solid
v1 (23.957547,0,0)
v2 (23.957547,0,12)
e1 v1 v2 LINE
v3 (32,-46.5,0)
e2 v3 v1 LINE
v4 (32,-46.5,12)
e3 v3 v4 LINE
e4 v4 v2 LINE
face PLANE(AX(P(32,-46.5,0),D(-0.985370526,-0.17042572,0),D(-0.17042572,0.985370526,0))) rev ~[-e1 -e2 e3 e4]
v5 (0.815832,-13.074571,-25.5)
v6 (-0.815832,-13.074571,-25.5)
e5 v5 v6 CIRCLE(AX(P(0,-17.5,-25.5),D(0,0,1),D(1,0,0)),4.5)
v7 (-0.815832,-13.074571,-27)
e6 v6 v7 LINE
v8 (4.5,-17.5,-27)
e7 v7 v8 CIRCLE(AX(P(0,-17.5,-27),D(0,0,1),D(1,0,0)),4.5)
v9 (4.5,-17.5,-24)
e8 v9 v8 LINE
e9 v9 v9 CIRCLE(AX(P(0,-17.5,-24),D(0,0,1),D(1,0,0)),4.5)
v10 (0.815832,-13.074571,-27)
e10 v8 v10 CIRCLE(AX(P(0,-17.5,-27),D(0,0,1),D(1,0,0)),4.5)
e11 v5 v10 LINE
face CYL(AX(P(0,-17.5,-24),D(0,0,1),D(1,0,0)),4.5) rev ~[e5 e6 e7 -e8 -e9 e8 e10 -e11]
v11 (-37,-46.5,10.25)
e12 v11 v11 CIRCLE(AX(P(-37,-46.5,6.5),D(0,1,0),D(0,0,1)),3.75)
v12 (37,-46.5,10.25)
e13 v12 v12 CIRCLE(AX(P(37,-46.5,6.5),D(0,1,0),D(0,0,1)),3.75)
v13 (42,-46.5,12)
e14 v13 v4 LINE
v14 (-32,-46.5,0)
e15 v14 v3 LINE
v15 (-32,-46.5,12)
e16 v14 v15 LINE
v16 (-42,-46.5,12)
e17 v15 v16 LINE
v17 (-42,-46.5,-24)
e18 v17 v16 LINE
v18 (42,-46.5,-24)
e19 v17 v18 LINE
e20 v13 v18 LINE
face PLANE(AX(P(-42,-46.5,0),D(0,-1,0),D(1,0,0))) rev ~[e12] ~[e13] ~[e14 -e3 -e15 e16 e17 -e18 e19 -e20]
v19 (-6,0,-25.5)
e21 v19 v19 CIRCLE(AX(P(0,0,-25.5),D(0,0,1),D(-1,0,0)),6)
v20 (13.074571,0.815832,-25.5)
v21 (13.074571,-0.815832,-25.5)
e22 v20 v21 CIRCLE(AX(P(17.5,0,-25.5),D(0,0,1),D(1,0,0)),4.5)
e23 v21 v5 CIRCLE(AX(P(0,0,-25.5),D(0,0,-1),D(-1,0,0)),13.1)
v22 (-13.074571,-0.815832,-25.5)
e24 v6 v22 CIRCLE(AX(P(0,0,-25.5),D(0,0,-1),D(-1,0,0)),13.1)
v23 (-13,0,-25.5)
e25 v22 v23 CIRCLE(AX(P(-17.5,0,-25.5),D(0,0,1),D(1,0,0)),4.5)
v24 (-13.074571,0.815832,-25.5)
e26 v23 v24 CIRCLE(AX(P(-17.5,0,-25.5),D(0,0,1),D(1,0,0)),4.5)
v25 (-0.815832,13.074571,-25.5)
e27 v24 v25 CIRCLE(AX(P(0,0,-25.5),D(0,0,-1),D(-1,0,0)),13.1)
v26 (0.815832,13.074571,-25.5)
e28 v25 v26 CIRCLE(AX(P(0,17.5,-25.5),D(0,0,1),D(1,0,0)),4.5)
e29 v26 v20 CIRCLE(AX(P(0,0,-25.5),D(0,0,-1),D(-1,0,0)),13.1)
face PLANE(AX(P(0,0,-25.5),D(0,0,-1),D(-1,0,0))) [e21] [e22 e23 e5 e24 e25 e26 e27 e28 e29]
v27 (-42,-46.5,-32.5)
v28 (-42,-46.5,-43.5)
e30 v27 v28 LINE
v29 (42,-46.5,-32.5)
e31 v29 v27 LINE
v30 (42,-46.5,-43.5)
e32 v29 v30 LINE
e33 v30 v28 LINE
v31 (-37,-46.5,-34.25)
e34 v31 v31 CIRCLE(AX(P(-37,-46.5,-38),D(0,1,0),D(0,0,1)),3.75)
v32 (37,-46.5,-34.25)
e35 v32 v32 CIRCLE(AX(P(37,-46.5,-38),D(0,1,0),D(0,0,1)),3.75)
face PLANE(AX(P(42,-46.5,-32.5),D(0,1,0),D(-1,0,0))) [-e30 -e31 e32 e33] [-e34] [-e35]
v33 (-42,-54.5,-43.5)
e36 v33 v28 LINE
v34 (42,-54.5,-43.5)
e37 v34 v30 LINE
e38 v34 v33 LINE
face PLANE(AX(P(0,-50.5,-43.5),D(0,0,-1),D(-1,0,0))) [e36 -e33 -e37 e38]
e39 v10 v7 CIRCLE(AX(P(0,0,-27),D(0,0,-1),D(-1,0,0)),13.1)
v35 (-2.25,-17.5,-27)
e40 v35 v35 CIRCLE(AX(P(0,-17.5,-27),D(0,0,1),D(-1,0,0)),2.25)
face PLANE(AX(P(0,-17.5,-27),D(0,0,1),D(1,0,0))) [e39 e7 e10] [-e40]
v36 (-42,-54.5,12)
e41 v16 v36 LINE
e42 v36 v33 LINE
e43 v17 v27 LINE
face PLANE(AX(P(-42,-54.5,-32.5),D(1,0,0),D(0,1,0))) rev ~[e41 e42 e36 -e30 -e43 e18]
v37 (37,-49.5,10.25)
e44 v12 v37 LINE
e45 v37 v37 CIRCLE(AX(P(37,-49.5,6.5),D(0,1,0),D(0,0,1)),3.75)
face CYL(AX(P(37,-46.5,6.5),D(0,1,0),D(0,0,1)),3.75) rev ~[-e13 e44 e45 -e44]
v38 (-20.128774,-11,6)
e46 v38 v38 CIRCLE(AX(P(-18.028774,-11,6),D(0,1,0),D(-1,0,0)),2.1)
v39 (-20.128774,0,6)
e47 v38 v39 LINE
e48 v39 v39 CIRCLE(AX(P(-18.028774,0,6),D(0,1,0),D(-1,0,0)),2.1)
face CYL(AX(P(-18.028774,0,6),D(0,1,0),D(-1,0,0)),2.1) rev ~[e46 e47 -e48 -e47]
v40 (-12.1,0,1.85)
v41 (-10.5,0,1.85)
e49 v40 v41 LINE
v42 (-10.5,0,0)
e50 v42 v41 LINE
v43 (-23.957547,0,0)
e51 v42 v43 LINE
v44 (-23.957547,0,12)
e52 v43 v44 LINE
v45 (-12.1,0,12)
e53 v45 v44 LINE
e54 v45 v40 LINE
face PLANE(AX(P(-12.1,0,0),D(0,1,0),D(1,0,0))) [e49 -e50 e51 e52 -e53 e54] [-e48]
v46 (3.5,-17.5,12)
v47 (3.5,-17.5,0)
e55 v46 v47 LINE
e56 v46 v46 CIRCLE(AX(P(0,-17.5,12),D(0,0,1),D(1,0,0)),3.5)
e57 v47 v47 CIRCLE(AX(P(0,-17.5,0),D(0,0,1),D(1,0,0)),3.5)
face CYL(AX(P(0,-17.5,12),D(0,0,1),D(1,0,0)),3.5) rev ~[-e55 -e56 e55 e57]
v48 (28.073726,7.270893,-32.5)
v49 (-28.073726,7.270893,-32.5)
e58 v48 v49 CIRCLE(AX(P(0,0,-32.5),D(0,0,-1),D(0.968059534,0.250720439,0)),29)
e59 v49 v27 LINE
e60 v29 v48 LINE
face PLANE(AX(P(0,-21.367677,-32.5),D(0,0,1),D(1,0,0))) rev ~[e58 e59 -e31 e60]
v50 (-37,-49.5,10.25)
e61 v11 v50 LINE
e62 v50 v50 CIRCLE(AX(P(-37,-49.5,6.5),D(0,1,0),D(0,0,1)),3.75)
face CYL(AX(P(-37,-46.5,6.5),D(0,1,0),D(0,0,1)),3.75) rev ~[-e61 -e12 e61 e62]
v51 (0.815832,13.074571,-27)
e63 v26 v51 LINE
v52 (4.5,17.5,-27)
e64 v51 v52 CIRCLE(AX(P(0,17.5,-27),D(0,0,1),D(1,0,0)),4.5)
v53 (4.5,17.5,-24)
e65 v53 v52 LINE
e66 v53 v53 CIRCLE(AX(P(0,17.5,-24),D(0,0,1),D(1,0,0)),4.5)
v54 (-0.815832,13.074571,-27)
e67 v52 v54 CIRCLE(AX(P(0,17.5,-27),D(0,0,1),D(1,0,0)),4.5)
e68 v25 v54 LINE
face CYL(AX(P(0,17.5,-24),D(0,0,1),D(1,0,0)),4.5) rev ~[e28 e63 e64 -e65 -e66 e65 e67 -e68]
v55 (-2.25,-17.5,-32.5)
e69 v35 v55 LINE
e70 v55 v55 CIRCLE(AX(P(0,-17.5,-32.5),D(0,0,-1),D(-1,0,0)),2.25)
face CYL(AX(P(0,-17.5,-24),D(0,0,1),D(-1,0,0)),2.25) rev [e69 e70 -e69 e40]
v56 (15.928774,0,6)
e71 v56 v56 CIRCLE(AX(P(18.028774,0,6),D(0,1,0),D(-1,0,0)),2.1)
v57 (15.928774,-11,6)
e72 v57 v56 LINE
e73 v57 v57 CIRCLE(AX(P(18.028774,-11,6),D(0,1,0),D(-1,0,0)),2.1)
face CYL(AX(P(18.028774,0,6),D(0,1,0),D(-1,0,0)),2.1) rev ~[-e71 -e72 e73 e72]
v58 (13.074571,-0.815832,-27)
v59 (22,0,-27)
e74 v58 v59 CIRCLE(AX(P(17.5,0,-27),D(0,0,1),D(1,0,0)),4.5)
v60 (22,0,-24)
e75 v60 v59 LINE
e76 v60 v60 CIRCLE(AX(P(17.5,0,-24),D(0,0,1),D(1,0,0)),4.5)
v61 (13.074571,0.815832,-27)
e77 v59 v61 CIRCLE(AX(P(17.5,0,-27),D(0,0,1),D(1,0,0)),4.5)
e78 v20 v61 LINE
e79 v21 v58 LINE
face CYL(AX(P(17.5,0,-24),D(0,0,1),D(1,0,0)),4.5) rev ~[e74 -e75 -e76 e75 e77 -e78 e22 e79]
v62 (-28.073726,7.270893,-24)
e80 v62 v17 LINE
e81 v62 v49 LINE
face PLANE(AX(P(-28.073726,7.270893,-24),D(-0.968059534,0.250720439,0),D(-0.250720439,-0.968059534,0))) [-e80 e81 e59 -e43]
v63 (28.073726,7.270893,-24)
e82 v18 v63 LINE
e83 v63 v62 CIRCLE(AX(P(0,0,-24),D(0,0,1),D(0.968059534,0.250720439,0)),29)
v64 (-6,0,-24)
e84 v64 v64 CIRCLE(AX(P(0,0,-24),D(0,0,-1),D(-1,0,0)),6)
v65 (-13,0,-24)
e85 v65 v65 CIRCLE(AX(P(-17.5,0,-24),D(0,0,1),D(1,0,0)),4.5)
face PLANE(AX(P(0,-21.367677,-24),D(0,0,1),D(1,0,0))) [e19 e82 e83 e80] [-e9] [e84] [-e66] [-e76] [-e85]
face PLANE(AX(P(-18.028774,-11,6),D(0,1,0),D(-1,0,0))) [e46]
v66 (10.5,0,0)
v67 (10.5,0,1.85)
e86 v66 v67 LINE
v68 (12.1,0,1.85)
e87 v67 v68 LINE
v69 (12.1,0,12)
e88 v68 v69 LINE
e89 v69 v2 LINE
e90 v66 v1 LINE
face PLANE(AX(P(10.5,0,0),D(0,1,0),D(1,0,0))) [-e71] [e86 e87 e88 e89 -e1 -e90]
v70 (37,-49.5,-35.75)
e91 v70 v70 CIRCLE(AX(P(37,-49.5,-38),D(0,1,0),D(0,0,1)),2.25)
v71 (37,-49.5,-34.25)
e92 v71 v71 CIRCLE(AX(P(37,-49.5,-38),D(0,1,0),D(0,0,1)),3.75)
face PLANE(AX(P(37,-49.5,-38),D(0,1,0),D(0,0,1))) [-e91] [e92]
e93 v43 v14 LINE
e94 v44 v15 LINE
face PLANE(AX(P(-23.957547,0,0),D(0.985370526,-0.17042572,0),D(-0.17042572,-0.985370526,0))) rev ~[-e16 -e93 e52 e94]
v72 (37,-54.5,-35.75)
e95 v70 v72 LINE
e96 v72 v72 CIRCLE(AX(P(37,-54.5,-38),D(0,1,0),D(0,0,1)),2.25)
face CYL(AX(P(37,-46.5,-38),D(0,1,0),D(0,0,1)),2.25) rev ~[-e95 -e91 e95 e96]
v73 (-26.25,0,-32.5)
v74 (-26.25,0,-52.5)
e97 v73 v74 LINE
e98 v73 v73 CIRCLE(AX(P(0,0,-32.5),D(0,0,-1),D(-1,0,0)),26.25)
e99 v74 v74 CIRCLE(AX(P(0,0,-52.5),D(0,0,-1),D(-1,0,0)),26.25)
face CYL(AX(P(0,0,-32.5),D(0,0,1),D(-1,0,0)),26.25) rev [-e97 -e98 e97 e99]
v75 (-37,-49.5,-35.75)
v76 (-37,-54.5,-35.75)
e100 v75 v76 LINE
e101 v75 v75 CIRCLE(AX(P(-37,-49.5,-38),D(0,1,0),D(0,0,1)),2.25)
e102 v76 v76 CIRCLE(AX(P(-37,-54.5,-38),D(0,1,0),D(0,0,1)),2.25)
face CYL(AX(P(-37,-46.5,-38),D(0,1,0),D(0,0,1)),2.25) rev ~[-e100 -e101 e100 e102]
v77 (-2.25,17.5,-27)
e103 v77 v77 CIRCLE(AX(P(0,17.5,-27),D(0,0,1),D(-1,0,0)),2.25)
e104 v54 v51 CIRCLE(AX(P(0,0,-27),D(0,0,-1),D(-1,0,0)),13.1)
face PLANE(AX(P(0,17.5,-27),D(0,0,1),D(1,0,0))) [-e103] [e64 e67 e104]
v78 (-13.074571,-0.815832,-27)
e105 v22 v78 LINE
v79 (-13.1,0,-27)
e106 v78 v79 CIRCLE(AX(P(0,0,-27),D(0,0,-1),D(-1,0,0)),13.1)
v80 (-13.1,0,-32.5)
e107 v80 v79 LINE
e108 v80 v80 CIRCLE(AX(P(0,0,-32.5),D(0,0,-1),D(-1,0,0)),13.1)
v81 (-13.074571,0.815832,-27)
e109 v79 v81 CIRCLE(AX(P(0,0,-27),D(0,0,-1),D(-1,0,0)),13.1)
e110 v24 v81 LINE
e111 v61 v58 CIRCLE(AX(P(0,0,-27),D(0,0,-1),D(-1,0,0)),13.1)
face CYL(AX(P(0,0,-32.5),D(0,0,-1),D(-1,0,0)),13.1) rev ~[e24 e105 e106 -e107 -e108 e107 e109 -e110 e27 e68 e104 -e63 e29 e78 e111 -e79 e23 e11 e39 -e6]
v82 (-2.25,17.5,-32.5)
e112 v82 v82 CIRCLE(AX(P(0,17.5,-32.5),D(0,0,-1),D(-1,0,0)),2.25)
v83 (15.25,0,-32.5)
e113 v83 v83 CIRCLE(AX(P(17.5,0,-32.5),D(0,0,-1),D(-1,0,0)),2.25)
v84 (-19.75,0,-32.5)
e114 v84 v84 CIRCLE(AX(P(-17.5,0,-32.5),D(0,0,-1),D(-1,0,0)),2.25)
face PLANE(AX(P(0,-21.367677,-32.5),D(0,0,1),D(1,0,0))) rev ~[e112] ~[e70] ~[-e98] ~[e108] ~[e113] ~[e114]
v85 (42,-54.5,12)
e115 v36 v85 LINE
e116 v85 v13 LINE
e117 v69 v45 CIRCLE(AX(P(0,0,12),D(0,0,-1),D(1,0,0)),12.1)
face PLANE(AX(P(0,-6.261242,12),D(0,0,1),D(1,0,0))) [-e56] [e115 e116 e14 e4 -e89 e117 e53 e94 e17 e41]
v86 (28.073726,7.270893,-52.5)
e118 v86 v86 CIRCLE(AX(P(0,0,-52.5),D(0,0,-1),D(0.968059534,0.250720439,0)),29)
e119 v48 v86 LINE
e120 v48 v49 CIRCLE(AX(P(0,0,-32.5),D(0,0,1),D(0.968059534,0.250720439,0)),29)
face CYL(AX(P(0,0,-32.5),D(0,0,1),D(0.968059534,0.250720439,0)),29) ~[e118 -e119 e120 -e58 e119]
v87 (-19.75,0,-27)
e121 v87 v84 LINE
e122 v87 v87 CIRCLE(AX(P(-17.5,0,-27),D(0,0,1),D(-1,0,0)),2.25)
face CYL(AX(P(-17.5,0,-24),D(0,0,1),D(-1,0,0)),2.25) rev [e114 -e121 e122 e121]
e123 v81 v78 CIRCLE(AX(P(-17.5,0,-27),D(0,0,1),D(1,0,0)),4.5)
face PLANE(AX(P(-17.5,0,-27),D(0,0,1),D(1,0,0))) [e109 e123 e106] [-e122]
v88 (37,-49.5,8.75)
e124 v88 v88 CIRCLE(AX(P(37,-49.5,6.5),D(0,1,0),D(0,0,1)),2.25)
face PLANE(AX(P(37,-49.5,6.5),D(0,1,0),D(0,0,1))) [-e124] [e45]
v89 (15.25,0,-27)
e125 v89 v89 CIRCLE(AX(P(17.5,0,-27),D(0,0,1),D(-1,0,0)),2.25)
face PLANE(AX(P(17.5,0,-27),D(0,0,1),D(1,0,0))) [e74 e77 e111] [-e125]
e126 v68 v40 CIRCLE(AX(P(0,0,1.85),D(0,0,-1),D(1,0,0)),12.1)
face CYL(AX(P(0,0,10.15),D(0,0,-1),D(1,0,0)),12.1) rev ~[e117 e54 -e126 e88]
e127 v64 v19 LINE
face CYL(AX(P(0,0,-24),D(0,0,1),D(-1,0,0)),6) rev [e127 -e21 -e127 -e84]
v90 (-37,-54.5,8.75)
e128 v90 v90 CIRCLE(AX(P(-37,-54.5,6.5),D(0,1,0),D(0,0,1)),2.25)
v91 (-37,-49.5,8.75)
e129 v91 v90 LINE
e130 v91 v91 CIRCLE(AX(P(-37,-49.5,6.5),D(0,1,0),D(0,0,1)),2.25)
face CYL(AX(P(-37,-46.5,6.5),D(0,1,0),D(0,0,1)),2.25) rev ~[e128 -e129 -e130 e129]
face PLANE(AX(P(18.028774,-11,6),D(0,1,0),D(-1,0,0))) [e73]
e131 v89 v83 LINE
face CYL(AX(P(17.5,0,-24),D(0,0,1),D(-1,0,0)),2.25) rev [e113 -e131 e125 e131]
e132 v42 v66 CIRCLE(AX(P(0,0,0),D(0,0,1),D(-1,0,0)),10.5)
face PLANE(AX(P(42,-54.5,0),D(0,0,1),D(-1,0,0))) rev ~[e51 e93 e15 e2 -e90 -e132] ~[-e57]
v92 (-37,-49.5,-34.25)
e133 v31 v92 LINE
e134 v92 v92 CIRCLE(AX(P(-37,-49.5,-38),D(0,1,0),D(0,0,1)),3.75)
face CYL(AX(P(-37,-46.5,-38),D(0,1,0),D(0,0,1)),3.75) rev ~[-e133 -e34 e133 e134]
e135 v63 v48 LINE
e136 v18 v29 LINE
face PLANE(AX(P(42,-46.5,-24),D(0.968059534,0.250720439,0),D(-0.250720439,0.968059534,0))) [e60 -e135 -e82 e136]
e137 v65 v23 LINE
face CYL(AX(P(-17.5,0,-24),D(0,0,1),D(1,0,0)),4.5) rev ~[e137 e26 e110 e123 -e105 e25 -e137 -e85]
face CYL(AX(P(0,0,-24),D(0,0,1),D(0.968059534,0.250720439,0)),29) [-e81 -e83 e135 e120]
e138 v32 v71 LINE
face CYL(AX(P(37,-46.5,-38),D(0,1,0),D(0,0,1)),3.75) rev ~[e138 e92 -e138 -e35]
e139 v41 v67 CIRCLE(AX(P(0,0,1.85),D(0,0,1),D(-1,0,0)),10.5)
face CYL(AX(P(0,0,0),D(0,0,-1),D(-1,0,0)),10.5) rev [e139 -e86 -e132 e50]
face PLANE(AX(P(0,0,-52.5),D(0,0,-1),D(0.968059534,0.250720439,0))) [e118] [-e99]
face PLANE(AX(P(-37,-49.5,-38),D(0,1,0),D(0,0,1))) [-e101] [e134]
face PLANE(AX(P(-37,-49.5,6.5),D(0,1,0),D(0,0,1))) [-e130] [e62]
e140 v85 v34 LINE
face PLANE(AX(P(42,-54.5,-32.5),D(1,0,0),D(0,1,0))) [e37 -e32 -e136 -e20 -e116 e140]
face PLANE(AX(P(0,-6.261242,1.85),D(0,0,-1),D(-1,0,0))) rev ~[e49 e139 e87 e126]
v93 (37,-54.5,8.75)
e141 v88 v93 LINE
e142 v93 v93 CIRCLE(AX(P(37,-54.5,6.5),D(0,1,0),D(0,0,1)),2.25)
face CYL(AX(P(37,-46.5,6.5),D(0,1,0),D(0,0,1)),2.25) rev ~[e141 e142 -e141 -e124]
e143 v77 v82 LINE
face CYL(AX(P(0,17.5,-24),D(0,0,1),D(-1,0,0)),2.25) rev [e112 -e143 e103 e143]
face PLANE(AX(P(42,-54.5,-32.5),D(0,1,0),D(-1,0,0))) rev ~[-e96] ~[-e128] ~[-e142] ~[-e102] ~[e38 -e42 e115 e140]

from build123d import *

# Parameters (mm, degrees)
ESTRUSIONE_ESTRUSIONE1_DEPTH  = 12
ESTRUSIONE_ESTRUSIONE2_START  = -1.85
ESTRUSIONE_ESTRUSIONE2_DEPTH  = 1.85
ESTRUSIONE_ESTRUSIONE3_DEPTH  = 1.85
ESTRUSIONE_ESTRUSIONE4_DEPTH  = 23.5
ESTRUSIONE_ESTRUSIONE5_START  = 1.85
ESTRUSIONE_ESTRUSIONE5_DEPTH  = 1.85
ESTRUSIONE_ESTRUSIONE6_START  = 8.3
ESTRUSIONE_ESTRUSIONE6_DEPTH  = 8.3
ESTRUSIONE_ESTRUSIONE7_START  = 1.85
ESTRUSIONE_ESTRUSIONE7_DEPTH  = 1.85
ESTRUSIONE_ESTRUSIONE8_DEPTH  = 23.5
ESTRUSIONE_ESTRUSIONE9_START  = 1.85
ESTRUSIONE_ESTRUSIONE9_DEPTH  = 1.85
ESTRUSIONE_ESTRUSIONE10_START = 8.3
ESTRUSIONE_ESTRUSIONE10_DEPTH = 8.3
ESTRUSIONE_ESTRUSIONE11_START = 1.85
ESTRUSIONE_ESTRUSIONE11_DEPTH = 1.85
SCHIZZO12_R                   = 2.25
TAGLIO_ESTRUSIONE1_DEPTH      = 95.695564838
SCHIZZO13_R                   = 2.1
TAGLIO_ESTRUSIONE2_DEPTH      = 6
SCHIZZO15_R                   = 2.1
TAGLIO_ESTRUSIONE4_DEPTH      = 5
SCHIZZO16_R                   = 2.25
TAGLIO_ESTRUSIONE5_DEPTH      = 99.869863963
ESTRUSIONE_ESTRUSIONE12_DEPTH = 24
SCHIZZO18_R                   = 6
SCHIZZO18_R_2                 = 2.25
ESTRUSIONE_ESTRUSIONE13_DEPTH = 8.5
SCHIZZO19_R                   = 13.1
TAGLIO_ESTRUSIONE6_DEPTH      = 7
SCHIZZO20_R                   = 29
SCHIZZO20_R_2                 = 26.25
ESTRUSIONE_ESTRUSIONE14_DEPTH = 20
TAGLIO_ESTRUSIONE8_REACH      = 96.311
SCHIZZO21_R                   = 3.5
SCHIZZO21_R_2                 = 2.25
SCHIZZO22_W                   = 84
SCHIZZO22_H                   = 8
ESTRUSIONE_ESTRUSIONE15_DEPTH = 11
SCHIZZO23_R                   = 2.25
TAGLIO_ESTRUSIONE9_DEPTH      = 102.096488564
SCHIZZO24_R                   = 3.75
TAGLIO_ESTRUSIONE10_DEPTH     = 3
TAGLIO_ESTRUSIONE11_DEPTH     = 94.055212106
SCHIZZO26_R                   = 4.5
TAGLIO_ESTRUSIONE12_DEPTH     = 3


with BuildPart() as part:
    # Schizzo1 → Estrusione-Estrusione1 (new body)
    with BuildSketch(Plane.XY):
        with BuildLine():
            Line((-12.1, 0), (-21, 0))
            Line((-21, 0), (-21, -17.1))
            Line((-21, -17.1), (21, -17.1))
            Line((21, -17.1), (21, 0))
            Line((21, 0), (12.1, 0))
            ThreePointArc((12.1, 0), (0, -12.1), (-12.1, 0))
        make_face()
        Polygon((-42, -46.5), (-42, -54.5), (42, -54.5), (42, -46.5), (32, -46.5), (23.95754717, 0), (21, 0), (21, -17.1), (-21, -17.1), (-21, 0), (-23.95754717, 0), (-32, -46.5), align=None)
    extrude(amount=ESTRUSIONE_ESTRUSIONE1_DEPTH)

    # Schizzo2 → Estrusione-Estrusione2 (add)
    with BuildSketch(Plane.XY.offset(12).offset(ESTRUSIONE_ESTRUSIONE2_START)):
        with BuildLine():
            Line((12.1, 0), (10.5, 0))
            ThreePointArc((10.5, 0), (0, -10.5), (-10.5, 0))
            Line((-10.5, 0), (-12.1, 0))
            ThreePointArc((-12.1, 0), (0, -12.1), (12.1, 0))
        make_face()
    extrude(amount=ESTRUSIONE_ESTRUSIONE2_DEPTH)

    # Schizzo3 → Estrusione-Estrusione3 (add)
    with BuildSketch(Plane(origin=(0, 0, 0), x_dir=(-1, 0, 0), z_dir=(0, 0, -1))):
        with BuildLine():
            Line((12.1, 0), (10.5, 0))
            ThreePointArc((10.5, 0), (0, -10.5), (-10.5, 0))
            Line((-10.5, 0), (-12.1, 0))
            ThreePointArc((-12.1, 0), (0, -12.1), (12.1, 0))
        make_face()
    extrude(amount=-ESTRUSIONE_ESTRUSIONE3_DEPTH)

    # Schizzo4 → Estrusione-Estrusione4 (add)
    with BuildSketch(Plane(origin=(0, 0, 0), x_dir=(-1, 0, 0), z_dir=(0, 0, -1))):
        with BuildLine():
            Line((-27.454507827, -46.5), (-32, -46.5))
            Line((-32, -46.5), (-42, -46.5))
            Line((-42, -46.5), (-42, -54.5))
            Line((-42, -54.5), (42, -54.5))
            Line((42, -54.5), (42, -46.5))
            Line((42, -46.5), (32, -46.5))
            Line((32, -46.5), (27.454507827, -46.5))
            ThreePointArc((27.454507827, -46.5), (0, -54), (-27.454507827, -46.5))
        make_face()
    extrude(amount=ESTRUSIONE_ESTRUSIONE4_DEPTH)

    # Schizzo5 → Estrusione-Estrusione5 (add)
    with BuildSketch(Plane(origin=(0, 0, -23.5), x_dir=(-1, 0, 0), z_dir=(0, 0, -1)).offset(ESTRUSIONE_ESTRUSIONE5_START)):
        with BuildLine():
            Line((23.95754717, 0), (10.5, 0))
            ThreePointArc((10.5, 0), (0, -10.5), (-10.5, 0))
            Line((-10.5, 0), (-23.95754717, 0))
            Line((-23.95754717, 0), (-32, -46.5))
            Line((-32, -46.5), (-42, -46.5))
            Line((-42, -46.5), (-42, -54.5))
            Line((-42, -54.5), (42, -54.5))
            Line((42, -54.5), (42, -46.5))
            Line((42, -46.5), (32, -46.5))
            Line((32, -46.5), (23.95754717, 0))
        make_face()
    extrude(amount=-ESTRUSIONE_ESTRUSIONE5_DEPTH)

    # Schizzo6 → Estrusione-Estrusione6 (add)
    with BuildSketch(Plane(origin=(0, 0, -25.35), x_dir=(-1, 0, 0), z_dir=(0, 0, -1)).offset(ESTRUSIONE_ESTRUSIONE6_START)):
        with BuildLine():
            ThreePointArc((12.1, 0), (0, -12.1), (-12.1, 0))
            Line((-12.1, 0), (-23.95754717, 0))
            Line((-23.95754717, 0), (-32, -46.5))
            Line((-32, -46.5), (-42, -46.5))
            Line((-42, -46.5), (-42, -54.5))
            Line((-42, -54.5), (42, -54.5))
            Line((42, -54.5), (42, -46.5))
            Line((42, -46.5), (32, -46.5))
            Line((32, -46.5), (23.95754717, 0))
            Line((23.95754717, 0), (12.1, 0))
        make_face()
    extrude(amount=-ESTRUSIONE_ESTRUSIONE6_DEPTH)

    # Schizzo7 → Estrusione-Estrusione7 (add)
    with BuildSketch(Plane(origin=(0, 0, -33.65), x_dir=(-1, 0, 0), z_dir=(0, 0, -1)).offset(ESTRUSIONE_ESTRUSIONE7_START)):
        with BuildLine():
            Line((23.95754717, 0), (10.5, 0))
            ThreePointArc((10.5, 0), (0, -10.5), (-10.5, 0))
            Line((-10.5, 0), (-23.95754717, 0))
            Line((-23.95754717, 0), (-32, -46.5))
            Line((-32, -46.5), (-42, -46.5))
            Line((-42, -46.5), (-42, -54.5))
            Line((-42, -54.5), (42, -54.5))
            Line((42, -54.5), (42, -46.5))
            Line((42, -46.5), (32, -46.5))
            Line((32, -46.5), (23.95754717, 0))
        make_face()
    extrude(amount=-ESTRUSIONE_ESTRUSIONE7_DEPTH)

    # Schizzo8 → Estrusione-Estrusione8 (add)
    with BuildSketch(Plane(origin=(0, 0, -35.5), x_dir=(-1, 0, 0), z_dir=(0, 0, -1))):
        Polygon((-32, -46.5), (32, -46.5), (42, -46.5), (42, -54.5), (-42, -54.5), (-42, -46.5), align=None)
    extrude(amount=ESTRUSIONE_ESTRUSIONE8_DEPTH)

    # Schizzo9 → Estrusione-Estrusione9 (add)
    with BuildSketch(Plane(origin=(0, 0, -59), x_dir=(-1, 0, 0), z_dir=(0, 0, -1)).offset(ESTRUSIONE_ESTRUSIONE9_START)):
        with BuildLine():
            Line((23.95754717, 0), (10.5, 0))
            ThreePointArc((10.5, 0), (0, -10.5), (-10.5, 0))
            Line((-10.5, 0), (-23.95754717, 0))
            Line((-23.95754717, 0), (-32, -46.5))
            Line((-32, -46.5), (-42, -46.5))
            Line((-42, -46.5), (-42, -54.5))
            Line((-42, -54.5), (42, -54.5))
            Line((42, -54.5), (42, -46.5))
            Line((42, -46.5), (32, -46.5))
            Line((32, -46.5), (23.95754717, 0))
        make_face()
    extrude(amount=-ESTRUSIONE_ESTRUSIONE9_DEPTH)

    # Schizzo10 → Estrusione-Estrusione10 (add)
    with BuildSketch(Plane(origin=(0, 0, -60.85), x_dir=(-1, 0, 0), z_dir=(0, 0, -1)).offset(ESTRUSIONE_ESTRUSIONE10_START)):
        with BuildLine():
            ThreePointArc((12.1, 0), (0, -12.1), (-12.1, 0))
            Line((-12.1, 0), (-23.95754717, 0))
            Line((-23.95754717, 0), (-32, -46.5))
            Line((-32, -46.5), (-42, -46.5))
            Line((-42, -46.5), (-42, -54.5))
            Line((-42, -54.5), (42, -54.5))
            Line((42, -54.5), (42, -46.5))
            Line((42, -46.5), (32, -46.5))
            Line((32, -46.5), (23.95754717, 0))
            Line((23.95754717, 0), (12.1, 0))
        make_face()
    extrude(amount=-ESTRUSIONE_ESTRUSIONE10_DEPTH)

    # Schizzo11 → Estrusione-Estrusione11 (add)
    with BuildSketch(Plane(origin=(0, 0, -69.15), x_dir=(-1, 0, 0), z_dir=(0, 0, -1)).offset(ESTRUSIONE_ESTRUSIONE11_START)):
        with BuildLine():
            Line((23.95754717, 0), (10.5, 0))
            ThreePointArc((10.5, 0), (0, -10.5), (-10.5, 0))
            Line((-10.5, 0), (-23.95754717, 0))
            Line((-23.95754717, 0), (-32, -46.5))
            Line((-32, -46.5), (-42, -46.5))
            Line((-42, -46.5), (-42, -54.5))
            Line((-42, -54.5), (42, -54.5))
            Line((42, -54.5), (42, -46.5))
            Line((42, -46.5), (32, -46.5))
            Line((32, -46.5), (23.95754717, 0))
        make_face()
    extrude(amount=-ESTRUSIONE_ESTRUSIONE11_DEPTH)

    # Schizzo12 → Taglio-Estrusione1 (cut, through all)
    with BuildSketch(Plane(origin=(0, -46.5, 0), x_dir=(1, 0, 0), z_dir=(0, 1, 0))):
        with Locations(Location((37, -6.5, 0), (0, 0, 270))):
            Circle(SCHIZZO12_R)
        with Locations(Location((37, 28.5, 0), (0, 0, 270))):
            Circle(SCHIZZO12_R)
        with Locations(Location((37, 65.5, 0), (0, 0, 270))):
            Circle(SCHIZZO12_R)
        with Locations(Location((-37, -6.5, 0), (0, 0, 270))):
            Circle(SCHIZZO12_R)
        with Locations(Location((-37, 28.5, 0), (0, 0, 270))):
            Circle(SCHIZZO12_R)
        with Locations(Location((-37, 65.5, 0), (0, 0, 270))):
            Circle(SCHIZZO12_R)
    extrude(amount=-TAGLIO_ESTRUSIONE1_DEPTH, mode=Mode.SUBTRACT)

    # Schizzo13 → Taglio-Estrusione2 (cut)
    with BuildSketch(Plane(origin=(0, 0, 0), x_dir=(1, 0, 0), z_dir=(0, 1, 0))):
        with Locations(Location((18.028773585, -6, 0), (0, 0, 180))):
            Circle(SCHIZZO13_R)
        with Locations(Location((-18.028773585, -6, 0), (0, 0, 180))):
            Circle(SCHIZZO13_R)
        with Locations(Location((18.028773585, 29.5, 0), (0, 0, 180))):
            Circle(SCHIZZO13_R)
        with Locations(Location((-18.028773585, 29.5, 0), (0, 0, 180))):
            Circle(SCHIZZO13_R)
        with Locations(Location((18.028773585, 65, 0), (0, 0, 180))):
            Circle(SCHIZZO13_R)
        with Locations(Location((-18.028773585, 65, 0), (0, 0, 180))):
            Circle(SCHIZZO13_R)
    extrude(amount=-TAGLIO_ESTRUSIONE2_DEPTH, mode=Mode.SUBTRACT)

    # Schizzo15 → Taglio-Estrusione4 (cut)
    with BuildSketch(Plane(origin=(0, -6, 0), x_dir=(1, 0, 0), z_dir=(0, 1, 0))):
        with Locations(Location((-18.028773585, 65, 0), (0, 0, 180))):
            Circle(SCHIZZO15_R)
        with Locations(Location((18.028773585, 65, 0), (0, 0, 180))):
            Circle(SCHIZZO15_R)
        with Locations(Location((18.028773585, 29.5, 0), (0, 0, 180))):
            Circle(SCHIZZO15_R)
        with Locations(Location((-18.028773585, 29.5, 0), (0, 0, 180))):
            Circle(SCHIZZO15_R)
        with Locations(Location((-18.028773585, -6, 0), (0, 0, 180))):
            Circle(SCHIZZO15_R)
        with Locations(Location((18.028773585, -6, 0), (0, 0, 180))):
            Circle(SCHIZZO15_R)
    extrude(amount=-TAGLIO_ESTRUSIONE4_DEPTH, mode=Mode.SUBTRACT)

    # Schizzo16 → Taglio-Estrusione5 (cut, through all)
    with BuildSketch(Plane.XZ.offset(54.5)):
        Polygon((-10.5, 0), (-23.95754717, 0), (-42, 0), (-42, -71), (42, -71), (42, 0), (23.95754717, 0), (10.5, 0), align=None)
        with Locations((-37, -65.5)):
            Circle(SCHIZZO16_R, mode=Mode.SUBTRACT)
        with Locations((37, -65.5)):
            Circle(SCHIZZO16_R, mode=Mode.SUBTRACT)
        with Locations((-37, -28.5)):
            Circle(SCHIZZO16_R, mode=Mode.SUBTRACT)
        with Locations((37, -28.5)):
            Circle(SCHIZZO16_R, mode=Mode.SUBTRACT)
    extrude(amount=-TAGLIO_ESTRUSIONE5_DEPTH, mode=Mode.SUBTRACT)

    # Schizzo17 → Estrusione-Estrusione12 (add)
    with BuildSketch(Plane(origin=(0, 0, 0), x_dir=(-1, 0, 0), z_dir=(0, 0, -1))):
        Polygon((-32, -46.5), (32, -46.5), (42, -46.5), (42, -54.5), (-42, -54.5), (-42, -46.5), align=None)
    extrude(amount=ESTRUSIONE_ESTRUSIONE12_DEPTH)

    # Schizzo18 → Estrusione-Estrusione13 (add)
    with BuildSketch(Plane(origin=(0, 0, -24), x_dir=(-1, 0, 0), z_dir=(0, 0, -1))):
        with BuildLine():
            Line((-42, -46.5), (-28.073726485, 7.270892739))
            ThreePointArc((-28.073726485, 7.270892739), (0, 29), (28.073726485, 7.270892739))
            Line((28.073726485, 7.270892739), (42, -46.5))
            Line((42, -46.5), (42, -54.5))
            Line((42, -54.5), (-42, -54.5))
            Line((-42, -54.5), (-42, -46.5))
        make_face()
        Circle(SCHIZZO18_R, mode=Mode.SUBTRACT)
        with Locations((0, 17.5)):
            Circle(SCHIZZO18_R_2, mode=Mode.SUBTRACT)
        with Locations((17.5, 0)):
            Circle(SCHIZZO18_R_2, mode=Mode.SUBTRACT)
        with Locations((0, -17.5)):
            Circle(SCHIZZO18_R_2, mode=Mode.SUBTRACT)
        with Locations((-17.5, 0)):
            Circle(SCHIZZO18_R_2, mode=Mode.SUBTRACT)
    extrude(amount=ESTRUSIONE_ESTRUSIONE13_DEPTH)

    # Schizzo19 → Taglio-Estrusione6 (cut)
    with BuildSketch(Plane(origin=(0, 0, -32.5), x_dir=(-1, 0, 0), z_dir=(0, 0, -1))):
        Circle(SCHIZZO19_R)
    extrude(amount=-TAGLIO_ESTRUSIONE6_DEPTH, mode=Mode.SUBTRACT)

    # Schizzo20 → Estrusione-Estrusione14 (add)
    with BuildSketch(Plane(origin=(0, 0, -32.5), x_dir=(-1, 0, 0), z_dir=(0, 0, -1))):
        with Locations(Location((0, 0, 0), (0, 0, 165.479851844))):
            Circle(SCHIZZO20_R)
        Circle(SCHIZZO20_R_2, mode=Mode.SUBTRACT)
    extrude(amount=ESTRUSIONE_ESTRUSIONE14_DEPTH)

    # Schizzo21 → Taglio-Estrusione8 (cut, up to next)
    with BuildSketch(Plane.XY.offset(12), mode=Mode.PRIVATE) as taglio_estrusione8_sk1:
        with Locations((0, -17.5)):
            Circle(SCHIZZO21_R)
        with Locations(Location((0, -17.5, 0), (0, 0, 180))):
            Circle(SCHIZZO21_R_2, mode=Mode.SUBTRACT)
    taglio_estrusione8_tool1 = extrude(taglio_estrusione8_sk1.sketch, amount=-TAGLIO_ESTRUSIONE8_REACH, mode=Mode.PRIVATE) & part.part
    # Schizzo21 → Taglio-Estrusione8 (cut, up to next)
    with BuildSketch(Plane.XY.offset(12), mode=Mode.PRIVATE) as taglio_estrusione8_sk2:
        with Locations(Location((0, -17.5, 0), (0, 0, 180))):
            Circle(SCHIZZO21_R_2)
    taglio_estrusione8_tool2 = extrude(taglio_estrusione8_sk2.sketch, amount=-TAGLIO_ESTRUSIONE8_REACH, mode=Mode.PRIVATE) & part.part
    add(taglio_estrusione8_tool1.solids().sort_by_distance((-3.401005, -17.5, 12))[0], mode=Mode.SUBTRACT)
    add(taglio_estrusione8_tool2.solids().sort_by_distance((0, -17.5, 12))[0], mode=Mode.SUBTRACT)

    # Schizzo22 → Estrusione-Estrusione15 (add)
    with BuildSketch(Plane(origin=(0, 0, -32.5), x_dir=(-1, 0, 0), z_dir=(0, 0, -1))):
        with Locations((0, -50.5)):
            Rectangle(SCHIZZO22_W, SCHIZZO22_H)
    extrude(amount=ESTRUSIONE_ESTRUSIONE15_DEPTH)

    # Schizzo23 → Taglio-Estrusione9 (cut, through all)
    with BuildSketch(Plane(origin=(0, -46.5, 0), x_dir=(1, 0, 0), z_dir=(0, 1, 0))):
        with Locations(Location((37, 38, 0), (0, 0, 270))):
            Circle(SCHIZZO23_R)
        with Locations(Location((-37, 38, 0), (0, 0, 270))):
            Circle(SCHIZZO23_R)
    extrude(amount=-TAGLIO_ESTRUSIONE9_DEPTH, mode=Mode.SUBTRACT)

    # Schizzo24 → Taglio-Estrusione10 (cut)
    with BuildSketch(Plane(origin=(0, -46.5, 0), x_dir=(1, 0, 0), z_dir=(0, 1, 0))):
        with Locations(Location((37, -6.5, 0), (0, 0, 270))):
            Circle(SCHIZZO24_R)
        with Locations(Location((-37, -6.5, 0), (0, 0, 270))):
            Circle(SCHIZZO24_R)
        with Locations(Location((-37, 38, 0), (0, 0, 270))):
            Circle(SCHIZZO24_R)
        with Locations(Location((37, 38, 0), (0, 0, 270))):
            Circle(SCHIZZO24_R)
    extrude(amount=-TAGLIO_ESTRUSIONE10_DEPTH, mode=Mode.SUBTRACT)

    # Schizzo25 → Taglio-Estrusione11 (cut, through all)
    with BuildSketch(Plane(origin=(0, 0, 10.15), x_dir=(-1, 0, 0), z_dir=(0, 0, -1))):
        with BuildLine():
            Line((-10.5, 0), (-12.1, 0))
            ThreePointArc((-12.1, 0), (0, -12.1), (12.1, 0))
            Line((12.1, 0), (10.5, 0))
            ThreePointArc((10.5, 0), (0, -10.5), (-10.5, 0))
        make_face()
    extrude(amount=-TAGLIO_ESTRUSIONE11_DEPTH, mode=Mode.SUBTRACT)

    # Schizzo26 → Taglio-Estrusione12 (cut)
    with BuildSketch(Plane.XY.offset(-24)):
        with Locations((0, 17.5)):
            Circle(SCHIZZO26_R)
        with Locations((17.5, 0)):
            Circle(SCHIZZO26_R)
        with Locations((0, -17.5)):
            Circle(SCHIZZO26_R)
        with Locations((-17.5, 0)):
            Circle(SCHIZZO26_R)
    extrude(amount=-TAGLIO_ESTRUSIONE12_DEPTH, mode=Mode.SUBTRACT)


solid = part.part
